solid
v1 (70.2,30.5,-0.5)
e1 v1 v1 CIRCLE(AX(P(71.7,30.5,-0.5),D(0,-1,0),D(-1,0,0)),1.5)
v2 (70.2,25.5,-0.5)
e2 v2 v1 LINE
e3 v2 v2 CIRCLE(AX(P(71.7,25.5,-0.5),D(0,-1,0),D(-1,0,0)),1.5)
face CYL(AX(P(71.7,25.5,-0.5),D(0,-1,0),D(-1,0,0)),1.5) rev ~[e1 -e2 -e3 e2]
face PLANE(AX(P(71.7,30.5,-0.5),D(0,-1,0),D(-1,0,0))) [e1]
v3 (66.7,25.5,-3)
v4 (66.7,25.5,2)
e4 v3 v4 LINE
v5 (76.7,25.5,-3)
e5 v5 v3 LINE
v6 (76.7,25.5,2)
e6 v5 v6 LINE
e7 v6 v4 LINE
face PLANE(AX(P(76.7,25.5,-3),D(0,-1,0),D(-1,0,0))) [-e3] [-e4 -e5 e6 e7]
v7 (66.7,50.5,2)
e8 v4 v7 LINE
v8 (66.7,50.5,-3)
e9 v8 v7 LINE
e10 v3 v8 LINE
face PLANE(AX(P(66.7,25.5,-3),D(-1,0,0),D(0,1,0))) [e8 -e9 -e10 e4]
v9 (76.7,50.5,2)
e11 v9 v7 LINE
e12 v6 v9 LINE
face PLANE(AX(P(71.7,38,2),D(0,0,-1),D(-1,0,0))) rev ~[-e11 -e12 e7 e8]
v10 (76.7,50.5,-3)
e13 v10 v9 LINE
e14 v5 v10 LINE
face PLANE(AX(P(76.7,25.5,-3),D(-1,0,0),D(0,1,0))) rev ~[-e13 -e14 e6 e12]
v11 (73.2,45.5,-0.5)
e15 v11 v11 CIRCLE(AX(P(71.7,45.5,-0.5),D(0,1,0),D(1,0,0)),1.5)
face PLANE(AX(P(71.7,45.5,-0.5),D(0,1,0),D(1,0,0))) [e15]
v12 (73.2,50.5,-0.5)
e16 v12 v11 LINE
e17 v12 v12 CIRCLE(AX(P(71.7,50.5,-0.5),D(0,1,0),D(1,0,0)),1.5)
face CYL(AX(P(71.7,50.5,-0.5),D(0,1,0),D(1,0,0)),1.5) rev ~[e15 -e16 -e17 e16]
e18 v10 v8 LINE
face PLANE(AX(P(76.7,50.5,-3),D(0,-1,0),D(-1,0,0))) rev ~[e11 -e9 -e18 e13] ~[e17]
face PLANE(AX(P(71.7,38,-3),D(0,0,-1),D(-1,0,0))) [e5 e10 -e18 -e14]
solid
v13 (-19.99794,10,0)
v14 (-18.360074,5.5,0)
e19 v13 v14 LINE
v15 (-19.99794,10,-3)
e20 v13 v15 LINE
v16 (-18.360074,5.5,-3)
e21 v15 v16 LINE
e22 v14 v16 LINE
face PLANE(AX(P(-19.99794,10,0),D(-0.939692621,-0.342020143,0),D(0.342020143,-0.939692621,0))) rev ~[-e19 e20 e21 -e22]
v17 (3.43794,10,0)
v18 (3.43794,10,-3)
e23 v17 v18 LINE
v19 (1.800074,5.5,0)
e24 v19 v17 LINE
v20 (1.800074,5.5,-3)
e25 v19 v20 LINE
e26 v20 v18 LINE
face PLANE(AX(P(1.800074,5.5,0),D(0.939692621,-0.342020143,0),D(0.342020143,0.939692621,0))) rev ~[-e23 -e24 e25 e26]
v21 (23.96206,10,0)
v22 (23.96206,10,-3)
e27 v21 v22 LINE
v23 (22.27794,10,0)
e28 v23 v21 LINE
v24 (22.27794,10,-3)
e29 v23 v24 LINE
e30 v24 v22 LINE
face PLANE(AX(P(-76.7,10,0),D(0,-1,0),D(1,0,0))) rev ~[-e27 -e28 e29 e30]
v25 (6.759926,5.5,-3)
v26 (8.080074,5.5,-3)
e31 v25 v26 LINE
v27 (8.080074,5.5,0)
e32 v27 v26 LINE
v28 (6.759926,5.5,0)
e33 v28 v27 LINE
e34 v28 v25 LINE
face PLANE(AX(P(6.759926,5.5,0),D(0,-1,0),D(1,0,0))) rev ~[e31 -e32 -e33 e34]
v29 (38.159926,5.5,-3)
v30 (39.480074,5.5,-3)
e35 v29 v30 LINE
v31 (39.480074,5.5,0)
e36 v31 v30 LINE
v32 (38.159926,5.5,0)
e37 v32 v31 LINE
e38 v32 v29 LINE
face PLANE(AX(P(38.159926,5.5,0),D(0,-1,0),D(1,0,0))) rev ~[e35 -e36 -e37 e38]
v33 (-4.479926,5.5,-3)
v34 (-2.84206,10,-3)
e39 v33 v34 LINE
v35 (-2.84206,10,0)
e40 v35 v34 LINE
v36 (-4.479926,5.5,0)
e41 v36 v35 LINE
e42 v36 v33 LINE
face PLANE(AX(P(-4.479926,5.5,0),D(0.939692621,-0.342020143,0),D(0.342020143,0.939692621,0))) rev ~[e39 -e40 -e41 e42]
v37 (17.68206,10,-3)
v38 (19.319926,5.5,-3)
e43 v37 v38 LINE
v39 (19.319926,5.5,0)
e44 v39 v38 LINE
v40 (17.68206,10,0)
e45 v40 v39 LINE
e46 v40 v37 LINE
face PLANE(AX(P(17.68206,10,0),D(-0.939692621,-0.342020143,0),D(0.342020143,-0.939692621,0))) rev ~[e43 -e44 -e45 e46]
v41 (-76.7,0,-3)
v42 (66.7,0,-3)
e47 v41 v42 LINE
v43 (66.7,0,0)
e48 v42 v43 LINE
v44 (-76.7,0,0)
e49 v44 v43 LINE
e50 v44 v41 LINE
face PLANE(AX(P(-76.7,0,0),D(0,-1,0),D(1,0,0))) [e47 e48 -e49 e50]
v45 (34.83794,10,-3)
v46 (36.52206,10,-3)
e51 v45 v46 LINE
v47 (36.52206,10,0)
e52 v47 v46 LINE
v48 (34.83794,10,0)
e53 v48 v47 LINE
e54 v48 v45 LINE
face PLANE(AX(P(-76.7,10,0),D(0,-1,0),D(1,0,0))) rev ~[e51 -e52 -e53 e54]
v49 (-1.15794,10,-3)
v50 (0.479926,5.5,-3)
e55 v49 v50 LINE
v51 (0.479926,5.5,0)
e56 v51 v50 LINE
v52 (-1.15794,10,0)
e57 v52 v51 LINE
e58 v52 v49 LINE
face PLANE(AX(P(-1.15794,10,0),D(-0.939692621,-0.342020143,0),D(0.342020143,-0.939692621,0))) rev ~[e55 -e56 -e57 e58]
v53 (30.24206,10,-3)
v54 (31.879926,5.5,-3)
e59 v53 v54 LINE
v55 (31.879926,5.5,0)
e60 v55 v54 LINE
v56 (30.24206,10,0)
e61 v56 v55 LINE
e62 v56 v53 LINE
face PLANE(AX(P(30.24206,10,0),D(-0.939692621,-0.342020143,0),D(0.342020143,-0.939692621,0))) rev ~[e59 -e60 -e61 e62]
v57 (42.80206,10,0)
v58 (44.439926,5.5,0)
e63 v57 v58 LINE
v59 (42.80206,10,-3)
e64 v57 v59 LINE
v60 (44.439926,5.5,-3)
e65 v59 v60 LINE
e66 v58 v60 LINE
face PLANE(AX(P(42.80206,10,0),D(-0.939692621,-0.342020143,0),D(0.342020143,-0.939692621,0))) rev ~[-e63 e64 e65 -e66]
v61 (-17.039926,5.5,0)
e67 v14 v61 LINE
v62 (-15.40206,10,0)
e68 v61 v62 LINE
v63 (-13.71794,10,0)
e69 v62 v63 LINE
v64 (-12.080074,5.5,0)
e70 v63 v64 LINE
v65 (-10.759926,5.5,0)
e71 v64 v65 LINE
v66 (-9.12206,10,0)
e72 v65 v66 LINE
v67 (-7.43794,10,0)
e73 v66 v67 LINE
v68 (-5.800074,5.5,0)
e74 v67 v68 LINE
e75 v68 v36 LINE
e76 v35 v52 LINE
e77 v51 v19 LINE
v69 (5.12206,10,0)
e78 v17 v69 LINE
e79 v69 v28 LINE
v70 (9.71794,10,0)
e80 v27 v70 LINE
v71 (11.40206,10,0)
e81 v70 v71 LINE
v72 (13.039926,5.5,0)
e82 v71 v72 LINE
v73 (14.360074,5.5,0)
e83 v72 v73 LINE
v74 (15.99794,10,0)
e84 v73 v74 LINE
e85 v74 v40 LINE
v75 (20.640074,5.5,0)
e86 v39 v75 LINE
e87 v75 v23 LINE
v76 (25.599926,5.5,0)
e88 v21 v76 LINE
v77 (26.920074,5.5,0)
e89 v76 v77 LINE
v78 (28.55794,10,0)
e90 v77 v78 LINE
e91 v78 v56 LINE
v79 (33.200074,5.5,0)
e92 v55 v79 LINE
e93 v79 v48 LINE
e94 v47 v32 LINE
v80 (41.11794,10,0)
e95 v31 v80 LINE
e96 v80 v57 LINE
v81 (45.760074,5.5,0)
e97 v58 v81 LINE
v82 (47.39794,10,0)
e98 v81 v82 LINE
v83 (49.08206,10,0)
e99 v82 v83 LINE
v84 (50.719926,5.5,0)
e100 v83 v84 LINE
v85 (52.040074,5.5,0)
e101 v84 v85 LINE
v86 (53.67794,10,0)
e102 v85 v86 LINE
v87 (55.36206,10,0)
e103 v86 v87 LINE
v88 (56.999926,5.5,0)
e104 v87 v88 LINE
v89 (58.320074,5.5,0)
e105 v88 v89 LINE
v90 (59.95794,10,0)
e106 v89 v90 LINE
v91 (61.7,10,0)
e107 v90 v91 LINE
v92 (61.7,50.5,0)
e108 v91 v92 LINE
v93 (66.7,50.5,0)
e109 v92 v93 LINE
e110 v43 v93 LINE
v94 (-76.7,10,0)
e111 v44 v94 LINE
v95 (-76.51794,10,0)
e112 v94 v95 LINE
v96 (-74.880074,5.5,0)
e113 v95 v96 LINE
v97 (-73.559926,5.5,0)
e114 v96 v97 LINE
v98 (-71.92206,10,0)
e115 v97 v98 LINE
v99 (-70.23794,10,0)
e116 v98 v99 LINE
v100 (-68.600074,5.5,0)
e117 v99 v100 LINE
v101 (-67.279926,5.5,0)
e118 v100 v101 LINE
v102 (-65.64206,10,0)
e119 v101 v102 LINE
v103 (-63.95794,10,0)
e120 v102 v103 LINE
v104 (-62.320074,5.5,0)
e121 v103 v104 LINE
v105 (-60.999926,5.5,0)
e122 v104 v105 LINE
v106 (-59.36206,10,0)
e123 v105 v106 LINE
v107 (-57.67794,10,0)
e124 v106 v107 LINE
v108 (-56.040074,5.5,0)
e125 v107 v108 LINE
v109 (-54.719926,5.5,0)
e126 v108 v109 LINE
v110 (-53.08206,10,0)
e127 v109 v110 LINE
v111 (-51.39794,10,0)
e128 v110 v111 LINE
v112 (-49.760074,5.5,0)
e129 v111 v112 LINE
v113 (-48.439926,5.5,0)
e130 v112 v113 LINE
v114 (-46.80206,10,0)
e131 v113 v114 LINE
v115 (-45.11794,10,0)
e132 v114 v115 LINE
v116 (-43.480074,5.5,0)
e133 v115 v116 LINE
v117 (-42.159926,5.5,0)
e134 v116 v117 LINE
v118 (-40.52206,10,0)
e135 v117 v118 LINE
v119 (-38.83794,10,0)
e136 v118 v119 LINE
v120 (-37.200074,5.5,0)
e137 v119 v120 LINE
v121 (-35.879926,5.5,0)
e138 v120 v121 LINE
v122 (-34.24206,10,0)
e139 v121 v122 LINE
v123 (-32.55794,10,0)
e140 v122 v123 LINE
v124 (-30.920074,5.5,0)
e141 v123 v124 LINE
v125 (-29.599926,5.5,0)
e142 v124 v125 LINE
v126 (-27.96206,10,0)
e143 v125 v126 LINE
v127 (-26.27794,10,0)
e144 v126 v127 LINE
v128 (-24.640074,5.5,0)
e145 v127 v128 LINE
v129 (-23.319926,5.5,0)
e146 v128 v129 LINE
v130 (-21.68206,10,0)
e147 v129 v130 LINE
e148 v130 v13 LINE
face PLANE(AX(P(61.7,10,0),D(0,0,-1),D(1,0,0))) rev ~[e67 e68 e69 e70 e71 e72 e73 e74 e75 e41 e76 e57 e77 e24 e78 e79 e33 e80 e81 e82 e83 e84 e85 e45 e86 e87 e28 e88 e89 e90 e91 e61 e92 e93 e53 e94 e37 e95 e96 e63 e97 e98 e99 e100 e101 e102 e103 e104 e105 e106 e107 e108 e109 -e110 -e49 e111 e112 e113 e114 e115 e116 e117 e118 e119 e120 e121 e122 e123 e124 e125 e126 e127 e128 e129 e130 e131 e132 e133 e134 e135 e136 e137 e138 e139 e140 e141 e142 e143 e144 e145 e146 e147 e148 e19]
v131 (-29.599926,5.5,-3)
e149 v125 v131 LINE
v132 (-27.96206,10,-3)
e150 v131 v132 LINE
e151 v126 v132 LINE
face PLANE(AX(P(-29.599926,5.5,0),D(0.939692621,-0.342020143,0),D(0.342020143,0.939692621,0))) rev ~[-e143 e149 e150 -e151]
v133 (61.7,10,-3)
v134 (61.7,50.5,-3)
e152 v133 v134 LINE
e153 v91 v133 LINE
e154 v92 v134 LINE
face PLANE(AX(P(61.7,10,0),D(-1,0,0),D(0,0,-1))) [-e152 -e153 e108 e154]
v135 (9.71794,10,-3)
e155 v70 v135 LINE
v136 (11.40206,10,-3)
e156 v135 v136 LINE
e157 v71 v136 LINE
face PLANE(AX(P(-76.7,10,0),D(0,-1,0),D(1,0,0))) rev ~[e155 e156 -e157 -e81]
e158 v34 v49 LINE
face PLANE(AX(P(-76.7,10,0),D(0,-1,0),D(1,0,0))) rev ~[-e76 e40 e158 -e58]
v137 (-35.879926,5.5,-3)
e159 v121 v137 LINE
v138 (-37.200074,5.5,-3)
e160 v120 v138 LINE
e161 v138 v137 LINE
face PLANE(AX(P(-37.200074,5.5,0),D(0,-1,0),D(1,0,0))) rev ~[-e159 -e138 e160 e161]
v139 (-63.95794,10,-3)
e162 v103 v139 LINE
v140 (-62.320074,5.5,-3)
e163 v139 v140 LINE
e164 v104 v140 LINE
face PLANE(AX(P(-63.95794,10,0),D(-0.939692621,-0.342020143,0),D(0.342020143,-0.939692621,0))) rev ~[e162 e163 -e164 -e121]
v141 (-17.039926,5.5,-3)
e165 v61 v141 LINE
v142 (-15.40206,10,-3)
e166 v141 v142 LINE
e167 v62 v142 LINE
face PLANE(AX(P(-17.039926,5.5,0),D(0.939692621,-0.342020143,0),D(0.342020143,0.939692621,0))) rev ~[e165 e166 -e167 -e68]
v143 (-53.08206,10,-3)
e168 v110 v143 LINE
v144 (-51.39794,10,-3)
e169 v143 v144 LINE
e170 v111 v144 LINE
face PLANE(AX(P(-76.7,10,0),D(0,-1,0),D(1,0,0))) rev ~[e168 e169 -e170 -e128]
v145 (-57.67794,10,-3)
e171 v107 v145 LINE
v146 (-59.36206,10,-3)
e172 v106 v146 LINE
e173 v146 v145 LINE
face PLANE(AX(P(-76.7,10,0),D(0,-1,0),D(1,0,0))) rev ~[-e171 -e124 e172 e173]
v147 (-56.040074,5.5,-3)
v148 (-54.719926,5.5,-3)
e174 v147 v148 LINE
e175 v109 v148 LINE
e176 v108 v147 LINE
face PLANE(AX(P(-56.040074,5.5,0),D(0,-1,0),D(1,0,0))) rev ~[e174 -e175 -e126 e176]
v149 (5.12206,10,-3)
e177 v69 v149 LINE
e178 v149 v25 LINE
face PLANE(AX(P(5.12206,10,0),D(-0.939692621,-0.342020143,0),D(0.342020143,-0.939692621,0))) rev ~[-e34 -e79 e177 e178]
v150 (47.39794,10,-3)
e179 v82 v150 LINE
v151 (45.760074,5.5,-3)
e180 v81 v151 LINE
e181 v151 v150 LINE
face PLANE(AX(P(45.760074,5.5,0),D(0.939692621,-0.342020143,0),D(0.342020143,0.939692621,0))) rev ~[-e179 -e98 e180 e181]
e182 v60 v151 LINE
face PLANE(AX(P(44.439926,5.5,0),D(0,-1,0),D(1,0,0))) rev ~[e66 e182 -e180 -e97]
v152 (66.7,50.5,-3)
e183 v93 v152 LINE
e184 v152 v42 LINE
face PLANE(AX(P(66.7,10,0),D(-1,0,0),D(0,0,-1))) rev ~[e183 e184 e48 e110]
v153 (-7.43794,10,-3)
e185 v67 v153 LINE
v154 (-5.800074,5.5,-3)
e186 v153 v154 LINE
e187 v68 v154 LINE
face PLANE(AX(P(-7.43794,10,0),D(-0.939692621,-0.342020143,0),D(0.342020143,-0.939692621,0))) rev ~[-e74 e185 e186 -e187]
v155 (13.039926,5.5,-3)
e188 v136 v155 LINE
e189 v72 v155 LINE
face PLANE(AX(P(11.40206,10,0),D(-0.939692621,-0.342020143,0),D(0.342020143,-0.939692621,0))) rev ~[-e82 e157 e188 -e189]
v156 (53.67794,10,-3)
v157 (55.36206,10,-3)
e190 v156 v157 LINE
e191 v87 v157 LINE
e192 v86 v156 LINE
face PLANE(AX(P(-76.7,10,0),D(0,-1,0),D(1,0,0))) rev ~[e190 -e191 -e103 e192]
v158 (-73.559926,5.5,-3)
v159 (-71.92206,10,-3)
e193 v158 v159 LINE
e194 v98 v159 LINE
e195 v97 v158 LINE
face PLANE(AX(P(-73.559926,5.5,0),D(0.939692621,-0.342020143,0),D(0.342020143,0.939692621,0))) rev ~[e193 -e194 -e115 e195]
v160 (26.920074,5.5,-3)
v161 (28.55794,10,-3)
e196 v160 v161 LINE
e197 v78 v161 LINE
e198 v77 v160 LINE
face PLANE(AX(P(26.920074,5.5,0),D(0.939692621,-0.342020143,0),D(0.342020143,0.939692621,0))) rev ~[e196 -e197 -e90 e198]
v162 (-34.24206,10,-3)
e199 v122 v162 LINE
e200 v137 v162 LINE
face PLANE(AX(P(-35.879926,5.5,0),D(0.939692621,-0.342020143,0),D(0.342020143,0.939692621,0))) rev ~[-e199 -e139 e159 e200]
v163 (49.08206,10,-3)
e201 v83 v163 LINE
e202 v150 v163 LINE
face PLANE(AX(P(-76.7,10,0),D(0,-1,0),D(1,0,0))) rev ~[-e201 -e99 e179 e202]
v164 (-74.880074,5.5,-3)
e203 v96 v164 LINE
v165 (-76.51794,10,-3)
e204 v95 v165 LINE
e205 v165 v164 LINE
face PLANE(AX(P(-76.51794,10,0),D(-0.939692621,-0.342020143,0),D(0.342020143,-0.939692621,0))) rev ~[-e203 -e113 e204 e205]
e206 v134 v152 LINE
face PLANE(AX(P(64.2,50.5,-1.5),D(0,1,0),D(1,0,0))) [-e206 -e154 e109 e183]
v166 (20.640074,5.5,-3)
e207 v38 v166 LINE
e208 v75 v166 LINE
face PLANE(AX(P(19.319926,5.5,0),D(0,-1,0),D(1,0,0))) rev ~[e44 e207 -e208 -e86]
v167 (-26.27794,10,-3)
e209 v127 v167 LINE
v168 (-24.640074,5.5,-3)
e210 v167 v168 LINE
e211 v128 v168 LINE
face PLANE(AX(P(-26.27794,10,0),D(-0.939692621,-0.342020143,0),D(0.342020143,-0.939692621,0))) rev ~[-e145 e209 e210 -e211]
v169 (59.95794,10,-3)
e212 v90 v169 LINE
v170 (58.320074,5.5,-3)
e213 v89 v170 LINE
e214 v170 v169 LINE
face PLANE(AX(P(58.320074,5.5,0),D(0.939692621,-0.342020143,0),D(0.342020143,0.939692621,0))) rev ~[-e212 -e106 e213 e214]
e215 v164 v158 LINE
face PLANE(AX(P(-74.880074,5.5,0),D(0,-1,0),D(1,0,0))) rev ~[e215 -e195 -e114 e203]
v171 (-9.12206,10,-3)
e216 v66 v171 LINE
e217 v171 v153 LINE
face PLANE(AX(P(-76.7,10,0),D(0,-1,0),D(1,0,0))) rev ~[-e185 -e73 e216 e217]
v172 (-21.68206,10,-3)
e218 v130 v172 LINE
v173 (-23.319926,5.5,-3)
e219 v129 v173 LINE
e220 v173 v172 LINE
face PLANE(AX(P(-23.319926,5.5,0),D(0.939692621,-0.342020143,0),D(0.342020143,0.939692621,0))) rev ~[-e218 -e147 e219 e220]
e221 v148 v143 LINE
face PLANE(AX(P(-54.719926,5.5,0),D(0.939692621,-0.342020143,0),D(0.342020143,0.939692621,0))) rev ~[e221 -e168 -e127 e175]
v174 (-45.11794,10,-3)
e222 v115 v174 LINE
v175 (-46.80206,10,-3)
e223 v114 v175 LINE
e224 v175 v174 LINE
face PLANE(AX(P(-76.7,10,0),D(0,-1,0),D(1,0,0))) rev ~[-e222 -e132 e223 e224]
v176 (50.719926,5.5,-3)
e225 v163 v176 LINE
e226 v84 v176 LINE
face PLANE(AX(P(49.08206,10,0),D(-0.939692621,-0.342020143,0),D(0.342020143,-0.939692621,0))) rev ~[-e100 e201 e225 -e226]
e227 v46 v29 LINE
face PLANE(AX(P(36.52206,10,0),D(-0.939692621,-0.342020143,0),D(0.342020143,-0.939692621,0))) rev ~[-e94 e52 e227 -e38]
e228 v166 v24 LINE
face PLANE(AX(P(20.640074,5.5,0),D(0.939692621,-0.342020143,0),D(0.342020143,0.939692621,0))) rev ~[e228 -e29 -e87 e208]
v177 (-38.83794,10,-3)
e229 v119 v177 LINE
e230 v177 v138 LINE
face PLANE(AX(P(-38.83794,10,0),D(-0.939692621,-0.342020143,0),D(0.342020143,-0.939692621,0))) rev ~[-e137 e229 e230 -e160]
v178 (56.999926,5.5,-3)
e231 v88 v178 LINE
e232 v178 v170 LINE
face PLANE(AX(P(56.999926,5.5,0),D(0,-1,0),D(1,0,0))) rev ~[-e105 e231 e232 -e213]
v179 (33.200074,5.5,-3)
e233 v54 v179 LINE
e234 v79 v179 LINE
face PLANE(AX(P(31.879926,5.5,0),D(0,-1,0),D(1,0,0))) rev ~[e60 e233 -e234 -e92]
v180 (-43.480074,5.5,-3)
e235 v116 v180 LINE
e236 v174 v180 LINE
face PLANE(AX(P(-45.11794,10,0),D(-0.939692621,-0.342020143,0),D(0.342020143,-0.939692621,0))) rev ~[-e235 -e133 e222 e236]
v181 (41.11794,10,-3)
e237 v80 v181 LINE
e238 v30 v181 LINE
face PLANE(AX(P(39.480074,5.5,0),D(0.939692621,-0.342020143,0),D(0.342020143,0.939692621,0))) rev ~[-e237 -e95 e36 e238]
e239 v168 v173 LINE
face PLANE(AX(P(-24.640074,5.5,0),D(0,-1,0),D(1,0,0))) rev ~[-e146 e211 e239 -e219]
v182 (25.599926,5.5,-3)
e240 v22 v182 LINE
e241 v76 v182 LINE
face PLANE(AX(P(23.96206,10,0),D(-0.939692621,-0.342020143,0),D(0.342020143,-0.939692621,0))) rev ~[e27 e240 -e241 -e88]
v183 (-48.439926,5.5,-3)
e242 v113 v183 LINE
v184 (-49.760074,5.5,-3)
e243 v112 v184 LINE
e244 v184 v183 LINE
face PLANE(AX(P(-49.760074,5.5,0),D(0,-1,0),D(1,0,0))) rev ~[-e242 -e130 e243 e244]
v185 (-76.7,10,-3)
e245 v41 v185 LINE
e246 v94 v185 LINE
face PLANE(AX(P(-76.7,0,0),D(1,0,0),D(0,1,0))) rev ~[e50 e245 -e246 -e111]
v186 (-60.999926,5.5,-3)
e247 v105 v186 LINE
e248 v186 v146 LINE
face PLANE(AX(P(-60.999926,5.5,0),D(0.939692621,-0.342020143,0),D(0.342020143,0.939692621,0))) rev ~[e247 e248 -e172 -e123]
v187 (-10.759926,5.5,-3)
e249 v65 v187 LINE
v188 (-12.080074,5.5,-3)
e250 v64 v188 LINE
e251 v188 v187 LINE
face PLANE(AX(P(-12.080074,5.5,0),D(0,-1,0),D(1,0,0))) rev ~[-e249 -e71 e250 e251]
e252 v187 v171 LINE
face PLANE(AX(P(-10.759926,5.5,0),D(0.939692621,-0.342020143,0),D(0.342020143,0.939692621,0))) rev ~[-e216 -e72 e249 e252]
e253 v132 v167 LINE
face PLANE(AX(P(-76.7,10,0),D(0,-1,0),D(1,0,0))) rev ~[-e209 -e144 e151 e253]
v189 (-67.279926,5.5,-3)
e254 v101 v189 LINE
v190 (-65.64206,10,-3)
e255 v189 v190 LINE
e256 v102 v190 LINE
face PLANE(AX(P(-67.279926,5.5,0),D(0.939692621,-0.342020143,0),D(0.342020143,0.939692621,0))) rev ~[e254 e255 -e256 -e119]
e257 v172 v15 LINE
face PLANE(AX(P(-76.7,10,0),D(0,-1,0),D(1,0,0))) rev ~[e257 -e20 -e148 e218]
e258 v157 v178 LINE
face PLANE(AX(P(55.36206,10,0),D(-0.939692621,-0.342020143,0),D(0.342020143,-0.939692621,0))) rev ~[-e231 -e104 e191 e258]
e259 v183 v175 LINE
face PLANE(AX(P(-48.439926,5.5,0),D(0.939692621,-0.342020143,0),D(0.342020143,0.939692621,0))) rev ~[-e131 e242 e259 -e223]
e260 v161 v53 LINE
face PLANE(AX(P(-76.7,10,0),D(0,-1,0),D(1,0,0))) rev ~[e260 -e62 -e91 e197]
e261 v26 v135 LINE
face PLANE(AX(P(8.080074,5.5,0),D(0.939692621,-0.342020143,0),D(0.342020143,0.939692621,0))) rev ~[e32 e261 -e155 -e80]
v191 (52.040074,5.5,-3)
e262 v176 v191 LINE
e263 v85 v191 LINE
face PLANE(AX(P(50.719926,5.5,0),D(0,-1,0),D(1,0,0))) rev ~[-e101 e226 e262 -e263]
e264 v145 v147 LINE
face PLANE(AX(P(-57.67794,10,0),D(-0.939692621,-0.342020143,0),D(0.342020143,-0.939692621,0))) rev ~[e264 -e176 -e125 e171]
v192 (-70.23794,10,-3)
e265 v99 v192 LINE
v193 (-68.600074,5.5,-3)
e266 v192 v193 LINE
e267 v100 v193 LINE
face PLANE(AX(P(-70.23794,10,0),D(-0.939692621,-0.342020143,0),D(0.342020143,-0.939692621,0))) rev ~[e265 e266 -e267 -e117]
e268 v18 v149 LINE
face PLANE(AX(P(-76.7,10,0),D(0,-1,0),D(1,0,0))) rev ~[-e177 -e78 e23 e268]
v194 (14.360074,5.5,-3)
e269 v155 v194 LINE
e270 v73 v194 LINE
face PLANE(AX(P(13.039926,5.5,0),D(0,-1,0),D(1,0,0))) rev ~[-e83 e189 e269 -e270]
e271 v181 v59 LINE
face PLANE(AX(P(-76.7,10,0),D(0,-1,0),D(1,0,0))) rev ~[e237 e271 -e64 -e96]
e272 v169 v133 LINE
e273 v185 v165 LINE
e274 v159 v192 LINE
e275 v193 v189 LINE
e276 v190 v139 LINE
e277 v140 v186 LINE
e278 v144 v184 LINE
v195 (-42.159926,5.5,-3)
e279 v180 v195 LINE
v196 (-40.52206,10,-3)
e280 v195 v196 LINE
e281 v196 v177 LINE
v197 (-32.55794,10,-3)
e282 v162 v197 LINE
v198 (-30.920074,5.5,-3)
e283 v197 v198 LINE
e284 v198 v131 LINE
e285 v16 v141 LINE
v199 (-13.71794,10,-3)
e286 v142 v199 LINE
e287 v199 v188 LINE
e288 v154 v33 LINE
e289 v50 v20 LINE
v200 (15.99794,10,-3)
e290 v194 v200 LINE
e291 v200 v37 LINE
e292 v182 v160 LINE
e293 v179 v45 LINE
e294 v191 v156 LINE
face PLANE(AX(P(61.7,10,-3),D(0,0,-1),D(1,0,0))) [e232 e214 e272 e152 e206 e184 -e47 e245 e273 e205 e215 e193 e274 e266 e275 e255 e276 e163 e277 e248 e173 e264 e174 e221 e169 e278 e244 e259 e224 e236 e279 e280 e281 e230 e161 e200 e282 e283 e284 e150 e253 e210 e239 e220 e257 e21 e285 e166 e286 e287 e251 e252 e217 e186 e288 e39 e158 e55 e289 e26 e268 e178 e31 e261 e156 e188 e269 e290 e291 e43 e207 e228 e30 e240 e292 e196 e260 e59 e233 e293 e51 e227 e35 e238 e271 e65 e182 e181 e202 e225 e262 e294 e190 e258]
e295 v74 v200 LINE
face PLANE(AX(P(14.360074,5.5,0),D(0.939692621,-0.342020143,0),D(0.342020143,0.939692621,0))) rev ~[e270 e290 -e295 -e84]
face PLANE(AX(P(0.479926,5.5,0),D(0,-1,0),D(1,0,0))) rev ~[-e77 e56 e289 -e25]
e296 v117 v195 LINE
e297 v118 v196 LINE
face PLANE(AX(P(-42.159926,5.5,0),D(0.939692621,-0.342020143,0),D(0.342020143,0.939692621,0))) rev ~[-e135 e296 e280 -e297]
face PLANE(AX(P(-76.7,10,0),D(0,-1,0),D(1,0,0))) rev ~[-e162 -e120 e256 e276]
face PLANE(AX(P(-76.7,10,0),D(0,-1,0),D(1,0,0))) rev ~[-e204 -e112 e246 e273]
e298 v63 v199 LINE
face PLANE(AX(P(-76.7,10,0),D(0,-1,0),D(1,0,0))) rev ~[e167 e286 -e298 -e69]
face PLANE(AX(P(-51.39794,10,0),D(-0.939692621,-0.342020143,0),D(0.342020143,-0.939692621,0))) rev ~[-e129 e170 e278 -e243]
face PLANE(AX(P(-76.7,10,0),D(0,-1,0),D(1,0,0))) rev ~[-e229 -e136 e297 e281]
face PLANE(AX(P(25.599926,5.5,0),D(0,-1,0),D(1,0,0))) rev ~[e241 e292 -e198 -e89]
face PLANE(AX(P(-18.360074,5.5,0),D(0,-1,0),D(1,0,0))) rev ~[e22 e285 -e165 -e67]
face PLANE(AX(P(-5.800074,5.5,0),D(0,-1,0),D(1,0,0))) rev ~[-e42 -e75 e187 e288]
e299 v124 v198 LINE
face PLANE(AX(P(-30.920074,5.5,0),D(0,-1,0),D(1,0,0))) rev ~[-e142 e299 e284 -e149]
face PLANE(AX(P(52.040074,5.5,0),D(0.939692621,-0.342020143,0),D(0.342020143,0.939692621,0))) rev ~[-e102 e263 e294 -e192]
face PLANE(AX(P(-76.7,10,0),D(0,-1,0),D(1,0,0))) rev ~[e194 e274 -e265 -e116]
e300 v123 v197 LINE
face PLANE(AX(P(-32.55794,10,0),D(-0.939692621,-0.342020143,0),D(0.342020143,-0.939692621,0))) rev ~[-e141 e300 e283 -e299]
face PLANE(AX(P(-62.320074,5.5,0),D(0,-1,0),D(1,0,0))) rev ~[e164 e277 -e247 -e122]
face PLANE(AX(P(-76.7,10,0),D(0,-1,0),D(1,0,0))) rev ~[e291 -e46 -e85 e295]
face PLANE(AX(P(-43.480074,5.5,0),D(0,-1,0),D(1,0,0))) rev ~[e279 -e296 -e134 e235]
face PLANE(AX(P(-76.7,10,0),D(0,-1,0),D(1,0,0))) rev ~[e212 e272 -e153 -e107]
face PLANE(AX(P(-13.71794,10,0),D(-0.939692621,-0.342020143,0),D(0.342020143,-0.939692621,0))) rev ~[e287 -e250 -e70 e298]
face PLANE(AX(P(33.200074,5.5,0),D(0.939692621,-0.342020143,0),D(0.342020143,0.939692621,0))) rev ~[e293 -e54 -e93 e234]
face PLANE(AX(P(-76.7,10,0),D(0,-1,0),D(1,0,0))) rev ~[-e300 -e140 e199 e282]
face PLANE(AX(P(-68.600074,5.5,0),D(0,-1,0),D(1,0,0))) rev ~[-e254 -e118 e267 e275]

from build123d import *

# Parameters (mm, degrees)
SKETCH_1_W                 = 153.4
SKETCH_1_H                 = 10
EXTRUDE_1_DEPTH            = 3
CUT_EXTRUDE_1_DEPTH        = 4
PATTERN_LINEAR_1_COUNT     = 21
PATTERN_LINEAR_1_PITCH     = 6.28
PATTERN_LINEAR_1_COL_COUNT = 2
PATTERN_LINEAR_1_COL_PITCH = 6.28
SKETCH_3_W                 = 10
SKETCH_3_H                 = 3
CUT_EXTRUDE_2_DEPTH        = 11
SKETCH_4_W                 = 5
SKETCH_4_H                 = 3
EXTRUDE_2_DEPTH            = 40.5
SKETCH_5_W                 = 10
SKETCH_5_H                 = 25
EXTRUDE_3_DEPTH            = 5
SKETCH_6_R                 = 1.5
CUT_EXTRUDE_3_DEPTH        = 5
SKETCH_7_R                 = 1.5
CUT_EXTRUDE_4_DEPTH        = 5


with BuildPart() as part:
    # 스케치1 → 보스-돌출1 (new body)
    with BuildSketch(Plane.XY):
        with Locations((0, 5)):
            Rectangle(SKETCH_1_W, SKETCH_1_H)
    extrude(amount=-EXTRUDE_1_DEPTH)

    # 스케치2 → 컷-돌출1 (cut, through all)
    with BuildSketch(Plane.XY):
        Polygon((-68.600074414, 5.5), (-67.279925586, 5.5), (-65.642059531, 10), (-70.237940469, 10), align=None)
    cut_extrude_1 = extrude(amount=-CUT_EXTRUDE_1_DEPTH, mode=Mode.SUBTRACT)

    # 선형 패턴1: 컷-돌출1 ×21
    with Locations(*[(i * PATTERN_LINEAR_1_PITCH, 0, 0) for i in range(1, PATTERN_LINEAR_1_COUNT)]):
        add(cut_extrude_1, mode=Mode.SUBTRACT)

    # 선형 패턴1 col: 컷-돌출1 ×2
    with Locations(*[(-i * PATTERN_LINEAR_1_COL_PITCH, 0, 0) for i in range(1, PATTERN_LINEAR_1_COL_COUNT)]):
        add(cut_extrude_1, mode=Mode.SUBTRACT)

    # 스케치3 → 컷-돌출2 (cut, through all)
    with BuildSketch(Plane.XZ):
        with Locations((71.7, -1.5)):
            Rectangle(SKETCH_3_W, SKETCH_3_H)
    extrude(amount=-CUT_EXTRUDE_2_DEPTH, mode=Mode.SUBTRACT)

    # 스케치4 → 보스-돌출2 (add)
    with BuildSketch(Plane(origin=(0, 10, 0), x_dir=(1, 0, 0), z_dir=(0, 1, 0))):
        with Locations((64.2, 1.5)):
            Rectangle(SKETCH_4_W, SKETCH_4_H)
    extrude(amount=EXTRUDE_2_DEPTH)


with BuildPart() as body_2:
    # 스케치5 → 보스-돌출3 (new body)
    with BuildSketch(Plane(origin=(0, 0, -3), x_dir=(-1, 0, 0), z_dir=(0, 0, -1))):
        with Locations((-71.7, 38)):
            Rectangle(SKETCH_5_W, SKETCH_5_H)
    extrude(amount=-EXTRUDE_3_DEPTH)

    # 스케치6 → 컷-돌출3 (cut)
    with BuildSketch(Plane(origin=(0, 50.5, 0), x_dir=(1, 0, 0), z_dir=(0, 1, 0))):
        with Locations((71.7, 0.5)):
            Circle(SKETCH_6_R)
    extrude(amount=-CUT_EXTRUDE_3_DEPTH, mode=Mode.SUBTRACT)

    # 스케치7 → 컷-돌출4 (cut)
    with BuildSketch(Plane(origin=(0, 25.5, 0), x_dir=(-1, 0, 0), z_dir=(0, -1, 0))):
        with Locations((-71.7, 0.5)):
            Circle(SKETCH_7_R)
    extrude(amount=-CUT_EXTRUDE_4_DEPTH, mode=Mode.SUBTRACT)


solid = Compound([part.part, body_2.part])
